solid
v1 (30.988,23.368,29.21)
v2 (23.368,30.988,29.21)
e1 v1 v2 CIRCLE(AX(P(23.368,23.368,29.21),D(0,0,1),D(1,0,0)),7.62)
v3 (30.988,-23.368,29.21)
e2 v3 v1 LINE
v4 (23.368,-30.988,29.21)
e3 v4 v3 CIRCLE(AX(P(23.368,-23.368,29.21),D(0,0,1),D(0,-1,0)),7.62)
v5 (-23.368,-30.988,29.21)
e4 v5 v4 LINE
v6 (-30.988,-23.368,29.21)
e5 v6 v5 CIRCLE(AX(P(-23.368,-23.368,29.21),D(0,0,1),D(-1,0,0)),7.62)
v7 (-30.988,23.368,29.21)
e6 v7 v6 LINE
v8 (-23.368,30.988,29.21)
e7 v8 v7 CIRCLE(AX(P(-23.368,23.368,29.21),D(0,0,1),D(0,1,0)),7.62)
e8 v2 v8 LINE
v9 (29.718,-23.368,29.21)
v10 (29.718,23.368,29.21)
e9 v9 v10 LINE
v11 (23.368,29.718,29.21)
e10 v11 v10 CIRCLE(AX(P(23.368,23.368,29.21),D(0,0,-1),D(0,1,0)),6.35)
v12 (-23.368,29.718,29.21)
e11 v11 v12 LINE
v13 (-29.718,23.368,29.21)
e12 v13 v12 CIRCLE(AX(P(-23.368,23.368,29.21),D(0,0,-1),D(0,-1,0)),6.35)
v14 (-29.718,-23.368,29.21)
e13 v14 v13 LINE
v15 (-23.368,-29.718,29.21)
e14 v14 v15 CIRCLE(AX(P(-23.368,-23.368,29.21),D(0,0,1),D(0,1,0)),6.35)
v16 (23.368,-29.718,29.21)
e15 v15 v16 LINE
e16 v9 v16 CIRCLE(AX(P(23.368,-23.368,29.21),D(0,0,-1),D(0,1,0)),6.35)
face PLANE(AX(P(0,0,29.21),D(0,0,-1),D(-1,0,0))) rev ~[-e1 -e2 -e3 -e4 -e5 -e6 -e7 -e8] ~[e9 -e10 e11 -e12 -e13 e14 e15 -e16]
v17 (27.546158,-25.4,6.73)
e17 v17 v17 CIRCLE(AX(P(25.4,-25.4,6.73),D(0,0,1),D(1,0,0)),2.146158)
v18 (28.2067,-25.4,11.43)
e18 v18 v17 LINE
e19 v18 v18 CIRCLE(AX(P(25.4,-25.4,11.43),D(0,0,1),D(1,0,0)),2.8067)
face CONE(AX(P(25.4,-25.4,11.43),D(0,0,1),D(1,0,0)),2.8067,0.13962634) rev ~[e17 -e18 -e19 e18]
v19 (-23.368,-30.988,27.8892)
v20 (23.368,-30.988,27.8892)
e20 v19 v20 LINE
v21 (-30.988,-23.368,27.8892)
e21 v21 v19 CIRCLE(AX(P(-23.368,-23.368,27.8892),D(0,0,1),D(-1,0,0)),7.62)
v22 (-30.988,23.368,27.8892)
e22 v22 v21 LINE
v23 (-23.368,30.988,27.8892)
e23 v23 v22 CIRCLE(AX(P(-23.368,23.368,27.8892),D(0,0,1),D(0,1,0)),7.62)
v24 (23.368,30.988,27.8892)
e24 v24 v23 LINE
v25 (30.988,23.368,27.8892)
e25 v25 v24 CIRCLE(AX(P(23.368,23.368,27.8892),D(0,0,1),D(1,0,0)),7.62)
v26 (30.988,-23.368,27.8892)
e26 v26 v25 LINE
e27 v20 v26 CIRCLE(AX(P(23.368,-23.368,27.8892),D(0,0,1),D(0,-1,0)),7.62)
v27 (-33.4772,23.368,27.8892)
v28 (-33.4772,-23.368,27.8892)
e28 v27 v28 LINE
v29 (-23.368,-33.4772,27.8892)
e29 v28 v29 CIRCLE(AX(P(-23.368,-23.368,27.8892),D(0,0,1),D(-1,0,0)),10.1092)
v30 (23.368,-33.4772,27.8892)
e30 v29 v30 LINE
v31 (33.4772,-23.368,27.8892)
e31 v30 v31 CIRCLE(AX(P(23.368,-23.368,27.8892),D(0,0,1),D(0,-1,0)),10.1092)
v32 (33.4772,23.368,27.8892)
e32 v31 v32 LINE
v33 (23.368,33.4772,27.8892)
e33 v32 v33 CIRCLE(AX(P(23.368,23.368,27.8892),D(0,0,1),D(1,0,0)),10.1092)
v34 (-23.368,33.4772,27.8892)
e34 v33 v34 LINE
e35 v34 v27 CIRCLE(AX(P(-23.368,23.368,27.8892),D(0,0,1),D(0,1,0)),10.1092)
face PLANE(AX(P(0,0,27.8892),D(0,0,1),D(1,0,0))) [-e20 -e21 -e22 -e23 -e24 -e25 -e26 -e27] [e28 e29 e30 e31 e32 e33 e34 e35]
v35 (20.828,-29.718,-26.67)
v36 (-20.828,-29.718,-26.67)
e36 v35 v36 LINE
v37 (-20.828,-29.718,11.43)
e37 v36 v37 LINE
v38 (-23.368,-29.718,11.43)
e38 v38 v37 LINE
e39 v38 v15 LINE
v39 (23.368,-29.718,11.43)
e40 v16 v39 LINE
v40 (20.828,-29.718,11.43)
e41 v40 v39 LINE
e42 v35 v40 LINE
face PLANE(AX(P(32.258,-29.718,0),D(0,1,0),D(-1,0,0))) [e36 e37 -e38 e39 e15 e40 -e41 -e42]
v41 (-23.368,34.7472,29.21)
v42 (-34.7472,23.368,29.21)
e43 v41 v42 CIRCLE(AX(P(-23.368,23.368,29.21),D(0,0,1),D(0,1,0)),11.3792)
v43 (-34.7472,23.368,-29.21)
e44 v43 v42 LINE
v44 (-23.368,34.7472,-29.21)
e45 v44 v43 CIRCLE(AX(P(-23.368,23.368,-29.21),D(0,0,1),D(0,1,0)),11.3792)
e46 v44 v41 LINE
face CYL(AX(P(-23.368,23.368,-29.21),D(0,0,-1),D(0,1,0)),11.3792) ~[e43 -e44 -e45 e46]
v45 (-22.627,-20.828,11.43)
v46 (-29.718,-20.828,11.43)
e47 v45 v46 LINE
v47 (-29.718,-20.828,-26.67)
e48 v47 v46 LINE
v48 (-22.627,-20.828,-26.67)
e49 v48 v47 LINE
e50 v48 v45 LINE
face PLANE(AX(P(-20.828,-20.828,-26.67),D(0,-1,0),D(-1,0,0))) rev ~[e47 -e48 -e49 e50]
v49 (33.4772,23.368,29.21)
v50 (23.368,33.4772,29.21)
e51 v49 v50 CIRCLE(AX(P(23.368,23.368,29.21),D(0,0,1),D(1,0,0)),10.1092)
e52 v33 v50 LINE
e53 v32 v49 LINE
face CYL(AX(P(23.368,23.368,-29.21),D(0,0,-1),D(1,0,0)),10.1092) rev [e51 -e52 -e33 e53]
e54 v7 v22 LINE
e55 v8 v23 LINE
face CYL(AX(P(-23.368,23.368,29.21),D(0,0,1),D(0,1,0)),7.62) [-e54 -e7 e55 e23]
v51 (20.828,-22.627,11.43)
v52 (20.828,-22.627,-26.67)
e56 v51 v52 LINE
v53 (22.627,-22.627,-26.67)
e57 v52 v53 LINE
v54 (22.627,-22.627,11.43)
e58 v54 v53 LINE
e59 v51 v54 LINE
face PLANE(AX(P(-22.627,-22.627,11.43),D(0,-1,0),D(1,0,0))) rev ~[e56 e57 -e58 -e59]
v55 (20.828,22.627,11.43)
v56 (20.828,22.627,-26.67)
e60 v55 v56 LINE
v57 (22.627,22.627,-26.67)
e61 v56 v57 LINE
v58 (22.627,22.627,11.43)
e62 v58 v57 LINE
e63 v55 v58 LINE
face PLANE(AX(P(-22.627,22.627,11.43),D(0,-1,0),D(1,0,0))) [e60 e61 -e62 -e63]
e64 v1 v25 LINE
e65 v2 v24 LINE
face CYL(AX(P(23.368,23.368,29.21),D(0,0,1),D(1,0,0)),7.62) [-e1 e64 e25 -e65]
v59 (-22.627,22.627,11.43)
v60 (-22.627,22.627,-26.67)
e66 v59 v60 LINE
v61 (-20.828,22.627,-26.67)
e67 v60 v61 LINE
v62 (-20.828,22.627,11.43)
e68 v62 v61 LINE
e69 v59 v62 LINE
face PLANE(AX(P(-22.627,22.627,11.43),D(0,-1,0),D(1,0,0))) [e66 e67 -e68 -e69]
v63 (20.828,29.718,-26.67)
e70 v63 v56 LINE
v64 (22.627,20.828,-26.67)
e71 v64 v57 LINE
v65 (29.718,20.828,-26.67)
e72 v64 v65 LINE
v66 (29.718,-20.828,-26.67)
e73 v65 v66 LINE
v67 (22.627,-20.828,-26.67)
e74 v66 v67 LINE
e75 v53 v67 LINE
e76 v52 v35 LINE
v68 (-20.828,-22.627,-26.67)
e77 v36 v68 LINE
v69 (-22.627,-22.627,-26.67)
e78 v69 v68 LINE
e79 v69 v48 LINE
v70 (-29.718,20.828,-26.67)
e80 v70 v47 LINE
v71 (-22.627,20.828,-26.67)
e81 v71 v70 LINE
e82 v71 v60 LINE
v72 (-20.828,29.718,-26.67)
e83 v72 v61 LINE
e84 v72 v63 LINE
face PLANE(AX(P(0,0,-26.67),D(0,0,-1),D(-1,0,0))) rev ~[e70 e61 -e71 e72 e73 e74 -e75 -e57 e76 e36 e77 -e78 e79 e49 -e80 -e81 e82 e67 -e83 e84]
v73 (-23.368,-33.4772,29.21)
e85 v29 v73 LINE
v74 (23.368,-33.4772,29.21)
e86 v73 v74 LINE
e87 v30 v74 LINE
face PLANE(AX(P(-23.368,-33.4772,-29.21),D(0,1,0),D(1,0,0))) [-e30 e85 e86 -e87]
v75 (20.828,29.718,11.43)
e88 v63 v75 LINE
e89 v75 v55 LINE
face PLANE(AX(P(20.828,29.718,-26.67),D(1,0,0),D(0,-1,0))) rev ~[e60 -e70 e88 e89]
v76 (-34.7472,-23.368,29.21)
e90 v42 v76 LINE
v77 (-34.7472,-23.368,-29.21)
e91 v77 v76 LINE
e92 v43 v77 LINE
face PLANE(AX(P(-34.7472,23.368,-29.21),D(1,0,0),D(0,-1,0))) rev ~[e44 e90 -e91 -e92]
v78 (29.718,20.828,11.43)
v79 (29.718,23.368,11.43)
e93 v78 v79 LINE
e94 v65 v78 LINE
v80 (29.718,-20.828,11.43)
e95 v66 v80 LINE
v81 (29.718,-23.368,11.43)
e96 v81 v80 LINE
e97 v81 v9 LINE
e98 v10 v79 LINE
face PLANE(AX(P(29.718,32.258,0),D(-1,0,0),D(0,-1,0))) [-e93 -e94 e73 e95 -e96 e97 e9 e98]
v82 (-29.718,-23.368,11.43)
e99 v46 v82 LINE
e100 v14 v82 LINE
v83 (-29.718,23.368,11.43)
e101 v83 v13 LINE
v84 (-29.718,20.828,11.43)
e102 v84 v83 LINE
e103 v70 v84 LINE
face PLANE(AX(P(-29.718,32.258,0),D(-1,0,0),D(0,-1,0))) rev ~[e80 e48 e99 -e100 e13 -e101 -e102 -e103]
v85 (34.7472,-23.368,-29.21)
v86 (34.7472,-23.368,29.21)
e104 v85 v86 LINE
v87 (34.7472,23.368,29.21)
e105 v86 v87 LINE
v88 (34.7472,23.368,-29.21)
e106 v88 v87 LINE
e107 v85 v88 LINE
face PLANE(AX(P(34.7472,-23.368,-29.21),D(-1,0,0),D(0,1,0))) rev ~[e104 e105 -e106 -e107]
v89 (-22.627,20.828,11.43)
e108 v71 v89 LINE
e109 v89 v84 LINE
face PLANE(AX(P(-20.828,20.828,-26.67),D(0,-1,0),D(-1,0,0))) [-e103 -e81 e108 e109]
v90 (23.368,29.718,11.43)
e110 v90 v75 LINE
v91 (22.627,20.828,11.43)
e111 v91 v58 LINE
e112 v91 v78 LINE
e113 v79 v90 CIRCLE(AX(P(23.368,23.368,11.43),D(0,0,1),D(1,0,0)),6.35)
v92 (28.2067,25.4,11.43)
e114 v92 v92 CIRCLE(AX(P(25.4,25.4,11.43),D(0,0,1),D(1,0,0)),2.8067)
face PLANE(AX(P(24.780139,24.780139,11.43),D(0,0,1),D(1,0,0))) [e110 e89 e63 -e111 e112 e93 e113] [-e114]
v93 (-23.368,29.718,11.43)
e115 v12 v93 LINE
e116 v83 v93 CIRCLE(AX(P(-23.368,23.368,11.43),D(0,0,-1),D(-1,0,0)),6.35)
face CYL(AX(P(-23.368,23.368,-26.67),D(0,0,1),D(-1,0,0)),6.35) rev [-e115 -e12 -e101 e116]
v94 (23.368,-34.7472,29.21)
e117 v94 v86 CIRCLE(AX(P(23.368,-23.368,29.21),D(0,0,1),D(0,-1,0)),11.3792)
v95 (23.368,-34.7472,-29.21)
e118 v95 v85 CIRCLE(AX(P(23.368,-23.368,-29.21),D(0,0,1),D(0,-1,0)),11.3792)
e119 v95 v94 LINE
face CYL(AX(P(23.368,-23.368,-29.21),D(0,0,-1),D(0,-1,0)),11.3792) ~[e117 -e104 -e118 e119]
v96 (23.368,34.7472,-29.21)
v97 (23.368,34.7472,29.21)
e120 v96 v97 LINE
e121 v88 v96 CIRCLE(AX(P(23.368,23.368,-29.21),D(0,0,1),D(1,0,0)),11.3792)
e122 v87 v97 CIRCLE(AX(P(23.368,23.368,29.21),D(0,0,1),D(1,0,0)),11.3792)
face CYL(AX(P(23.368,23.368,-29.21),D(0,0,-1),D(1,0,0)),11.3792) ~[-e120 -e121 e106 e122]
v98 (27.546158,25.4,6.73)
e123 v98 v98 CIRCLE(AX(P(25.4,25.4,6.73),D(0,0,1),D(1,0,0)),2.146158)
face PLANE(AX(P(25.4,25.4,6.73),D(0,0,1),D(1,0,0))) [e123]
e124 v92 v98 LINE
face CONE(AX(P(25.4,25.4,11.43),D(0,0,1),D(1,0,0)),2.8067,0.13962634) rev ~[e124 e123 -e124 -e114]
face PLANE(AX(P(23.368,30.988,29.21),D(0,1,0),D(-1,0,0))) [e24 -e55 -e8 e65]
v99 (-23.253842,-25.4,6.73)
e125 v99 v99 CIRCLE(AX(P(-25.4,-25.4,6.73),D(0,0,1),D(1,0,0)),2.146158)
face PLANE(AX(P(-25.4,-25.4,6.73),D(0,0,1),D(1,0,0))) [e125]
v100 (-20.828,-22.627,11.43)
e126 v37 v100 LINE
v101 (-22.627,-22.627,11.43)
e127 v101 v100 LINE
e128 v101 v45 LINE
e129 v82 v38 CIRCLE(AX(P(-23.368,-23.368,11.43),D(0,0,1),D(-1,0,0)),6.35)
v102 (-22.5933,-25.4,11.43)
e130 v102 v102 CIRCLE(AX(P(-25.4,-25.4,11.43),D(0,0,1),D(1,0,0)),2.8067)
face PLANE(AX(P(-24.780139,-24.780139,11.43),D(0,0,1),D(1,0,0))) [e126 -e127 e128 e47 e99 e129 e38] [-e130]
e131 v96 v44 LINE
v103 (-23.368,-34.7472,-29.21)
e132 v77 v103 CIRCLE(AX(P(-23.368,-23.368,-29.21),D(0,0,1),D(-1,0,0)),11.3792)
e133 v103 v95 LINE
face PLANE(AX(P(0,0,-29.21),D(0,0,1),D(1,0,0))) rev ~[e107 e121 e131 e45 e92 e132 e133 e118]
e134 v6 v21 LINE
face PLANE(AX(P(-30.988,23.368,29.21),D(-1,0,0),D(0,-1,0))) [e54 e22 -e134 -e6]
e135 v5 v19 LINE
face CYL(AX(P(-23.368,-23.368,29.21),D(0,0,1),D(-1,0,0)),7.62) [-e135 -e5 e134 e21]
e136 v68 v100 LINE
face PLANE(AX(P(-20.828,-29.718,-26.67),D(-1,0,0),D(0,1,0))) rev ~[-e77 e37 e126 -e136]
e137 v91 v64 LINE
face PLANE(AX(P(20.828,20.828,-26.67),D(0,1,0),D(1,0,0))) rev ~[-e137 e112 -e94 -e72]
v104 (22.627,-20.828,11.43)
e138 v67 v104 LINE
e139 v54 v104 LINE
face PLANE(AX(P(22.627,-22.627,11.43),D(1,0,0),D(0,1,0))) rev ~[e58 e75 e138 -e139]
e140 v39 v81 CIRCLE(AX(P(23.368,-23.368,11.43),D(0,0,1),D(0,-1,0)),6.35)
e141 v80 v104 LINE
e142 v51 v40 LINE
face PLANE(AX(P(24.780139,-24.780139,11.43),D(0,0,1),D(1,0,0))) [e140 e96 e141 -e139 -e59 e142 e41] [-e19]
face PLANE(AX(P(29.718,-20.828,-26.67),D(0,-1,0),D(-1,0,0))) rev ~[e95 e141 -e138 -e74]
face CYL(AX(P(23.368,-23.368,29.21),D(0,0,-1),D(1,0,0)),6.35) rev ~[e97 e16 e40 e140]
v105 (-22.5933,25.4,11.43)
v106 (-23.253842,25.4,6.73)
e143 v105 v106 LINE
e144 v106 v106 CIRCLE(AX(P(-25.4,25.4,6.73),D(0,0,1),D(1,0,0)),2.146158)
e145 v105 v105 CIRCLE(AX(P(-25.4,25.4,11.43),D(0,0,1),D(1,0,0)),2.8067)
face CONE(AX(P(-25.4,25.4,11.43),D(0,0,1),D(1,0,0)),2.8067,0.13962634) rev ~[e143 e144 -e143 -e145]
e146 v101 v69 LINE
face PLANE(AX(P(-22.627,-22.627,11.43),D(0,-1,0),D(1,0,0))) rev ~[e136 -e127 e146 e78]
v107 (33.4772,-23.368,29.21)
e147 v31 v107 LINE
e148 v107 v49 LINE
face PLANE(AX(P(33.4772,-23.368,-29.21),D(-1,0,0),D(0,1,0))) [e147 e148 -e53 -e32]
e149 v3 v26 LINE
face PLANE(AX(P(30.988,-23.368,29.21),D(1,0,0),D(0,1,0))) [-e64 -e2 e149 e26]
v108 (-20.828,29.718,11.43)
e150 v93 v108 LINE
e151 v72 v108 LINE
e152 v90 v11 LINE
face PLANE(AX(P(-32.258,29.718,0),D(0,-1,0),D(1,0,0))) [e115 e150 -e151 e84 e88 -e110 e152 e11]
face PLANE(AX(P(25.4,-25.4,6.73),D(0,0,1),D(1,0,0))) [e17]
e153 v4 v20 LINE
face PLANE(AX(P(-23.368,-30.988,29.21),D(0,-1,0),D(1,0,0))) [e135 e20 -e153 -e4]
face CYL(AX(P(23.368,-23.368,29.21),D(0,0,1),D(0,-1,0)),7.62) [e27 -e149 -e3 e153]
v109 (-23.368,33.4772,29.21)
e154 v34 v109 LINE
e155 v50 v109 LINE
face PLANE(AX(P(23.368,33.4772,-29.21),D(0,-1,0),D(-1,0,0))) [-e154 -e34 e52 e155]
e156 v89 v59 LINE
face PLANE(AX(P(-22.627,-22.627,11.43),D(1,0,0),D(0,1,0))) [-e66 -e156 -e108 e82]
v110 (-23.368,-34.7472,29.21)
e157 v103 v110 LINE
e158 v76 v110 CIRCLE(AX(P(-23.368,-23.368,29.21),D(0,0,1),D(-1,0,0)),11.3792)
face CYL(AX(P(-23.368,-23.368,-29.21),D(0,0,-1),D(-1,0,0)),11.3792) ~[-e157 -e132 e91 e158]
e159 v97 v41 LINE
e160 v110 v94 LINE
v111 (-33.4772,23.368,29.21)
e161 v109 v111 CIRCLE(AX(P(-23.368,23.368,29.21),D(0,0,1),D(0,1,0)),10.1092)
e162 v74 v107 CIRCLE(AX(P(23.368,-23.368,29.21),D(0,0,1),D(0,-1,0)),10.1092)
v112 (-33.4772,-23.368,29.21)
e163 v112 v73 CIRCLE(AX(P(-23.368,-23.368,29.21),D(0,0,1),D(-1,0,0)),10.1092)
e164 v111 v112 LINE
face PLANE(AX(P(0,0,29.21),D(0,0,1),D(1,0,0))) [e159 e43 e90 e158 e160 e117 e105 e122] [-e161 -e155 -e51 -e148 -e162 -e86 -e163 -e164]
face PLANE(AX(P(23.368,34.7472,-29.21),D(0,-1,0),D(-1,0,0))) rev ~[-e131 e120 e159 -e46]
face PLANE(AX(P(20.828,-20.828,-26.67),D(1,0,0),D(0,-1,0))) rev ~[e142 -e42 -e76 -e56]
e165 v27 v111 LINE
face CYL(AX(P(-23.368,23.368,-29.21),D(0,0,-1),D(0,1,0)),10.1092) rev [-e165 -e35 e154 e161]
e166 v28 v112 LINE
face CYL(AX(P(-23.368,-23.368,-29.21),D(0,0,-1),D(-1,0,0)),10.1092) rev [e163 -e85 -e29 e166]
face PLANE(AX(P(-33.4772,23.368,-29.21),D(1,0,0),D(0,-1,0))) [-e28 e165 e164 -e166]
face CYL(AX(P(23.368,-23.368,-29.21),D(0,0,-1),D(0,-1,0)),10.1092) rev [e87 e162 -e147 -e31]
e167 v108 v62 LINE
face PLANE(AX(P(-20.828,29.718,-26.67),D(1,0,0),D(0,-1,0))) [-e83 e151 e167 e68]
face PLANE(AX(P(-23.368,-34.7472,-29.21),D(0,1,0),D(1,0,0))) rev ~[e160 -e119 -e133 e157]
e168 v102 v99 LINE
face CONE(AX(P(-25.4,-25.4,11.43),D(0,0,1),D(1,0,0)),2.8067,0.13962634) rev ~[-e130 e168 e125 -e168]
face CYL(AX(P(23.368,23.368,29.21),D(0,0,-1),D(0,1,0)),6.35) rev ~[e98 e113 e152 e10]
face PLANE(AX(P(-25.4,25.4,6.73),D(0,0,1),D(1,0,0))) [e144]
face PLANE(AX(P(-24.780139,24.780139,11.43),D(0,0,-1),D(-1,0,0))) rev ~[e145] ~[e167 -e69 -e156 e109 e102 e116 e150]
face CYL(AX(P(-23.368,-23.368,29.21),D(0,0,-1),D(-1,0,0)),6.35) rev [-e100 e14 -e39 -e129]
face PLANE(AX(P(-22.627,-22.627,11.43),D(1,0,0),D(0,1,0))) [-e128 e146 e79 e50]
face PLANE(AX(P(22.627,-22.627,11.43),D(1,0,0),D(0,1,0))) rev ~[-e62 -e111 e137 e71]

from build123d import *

# Parameters (mm, degrees)
BOSS_EXTRUDE1_DEPTH          = 29.21
SHELL1_T                     = -2.54
FILLET1_R                    = 6.35
BOSS_EXTRUDE2_DEPTH          = 38.1
SKETCH3_R                    = 2.8067
CUT_EXTRUDE1_DEPTH           = 4.7
CUT_EXTRUDE1_DRAFT           = -8
CUT_EXTRUDE1_PROFILE_2_DEPTH = 4.7
CUT_EXTRUDE1_PROFILE_2_DRAFT = -8
CUT_EXTRUDE1_PROFILE_3_DEPTH = 4.7
CUT_EXTRUDE1_PROFILE_3_DRAFT = -8
CUT_EXTRUDE1_PROFILE_4_DEPTH = 4.7
CUT_EXTRUDE1_PROFILE_4_DRAFT = -8
SKETCH5_W                    = 45.253999916
SKETCH5_H                    = 45.253999916
CUT_EXTRUDE5_DEPTH           = 38.1
SKETCH6_OUTSIDE_W            = 88.184
SKETCH6_OUTSIDE_H            = 88.184
CUT_EXTRUDE6_DEPTH           = 1.3208
BOSS_EXTRUDE3_START          = -2.54
BOSS_EXTRUDE3_DEPTH          = 57.0992
BOSS_EXTRUDE7_START          = -57.0992
BOSS_EXTRUDE7_DEPTH          = 58.42


with BuildPart() as part:
    # Sketch1 → Boss-Extrude1 (new, symmetric)
    with BuildSketch(Plane.XY):
        Polygon((-32.258, -32.258), (-32.258, -11.938), (-32.258, 11.938), (-32.258, 32.258), (32.258, 32.258), (32.258, -32.258), align=None)
    extrude(amount=BOSS_EXTRUDE1_DEPTH, both=True)

    # Shell1
    shell1_openings = [part.faces().sort_by_distance(p)[0] for p in [
        (0, 0, 29.21),
    ]]
    offset(amount=SHELL1_T, openings=shell1_openings, kind=Kind.INTERSECTION)

    # Fillet1
    fillet1_edges = [part.edges().sort_by_distance(p)[0] for p in [
        (-32.258, -32.258, 0),
        (-32.258, 32.258, 0),
        (32.258, 32.258, 0),
        (32.258, -32.258, 0),
        (-29.718, -29.718, 1.27),
        (29.718, -29.718, 1.27),
        (29.718, 29.718, 1.27),
        (-29.718, 29.718, 1.27),
    ]]
    fillet(fillet1_edges, radius=FILLET1_R)

    # Sketch2 → Boss-Extrude2 (add)
    with BuildSketch(Plane.XY.offset(-26.67)):
        with BuildLine():
            Line((-20.828, -20.828), (-29.718, -20.828))
            Line((-29.718, -20.828), (-29.718, -23.368))
            ThreePointArc((-29.718, -23.368), (-27.858128061, -27.858128061), (-23.368, -29.718))
            Line((-23.368, -29.718), (-20.828, -29.718))
            Line((-20.828, -29.718), (-20.828, -20.828))
        make_face()
        with BuildLine():
            ThreePointArc((-29.718, 23.368), (-27.858128061, 27.858128061), (-23.368, 29.718))
            Line((-23.368, 29.718), (-20.828, 29.718))
            Line((-20.828, 29.718), (-20.828, 20.828))
            Line((-20.828, 20.828), (-29.718, 20.828))
            Line((-29.718, 20.828), (-29.718, 23.368))
        make_face()
        with BuildLine():
            ThreePointArc((29.718, 23.368), (27.858128061, 27.858128061), (23.368, 29.718))
            Line((23.368, 29.718), (20.828, 29.718))
            Line((20.828, 29.718), (20.828, 20.828))
            Line((20.828, 20.828), (29.718, 20.828))
            Line((29.718, 20.828), (29.718, 23.368))
        make_face()
        with BuildLine():
            ThreePointArc((23.368, -29.718), (27.858128061, -27.858128061), (29.718, -23.368))
            Line((29.718, -23.368), (29.718, -20.828))
            Line((29.718, -20.828), (20.828, -20.828))
            Line((20.828, -20.828), (20.828, -29.718))
            Line((20.828, -29.718), (23.368, -29.718))
        make_face()
    extrude(amount=BOSS_EXTRUDE2_DEPTH)


with BuildPart() as cut_extrude1_tool:
    # Sketch3 → Cut-Extrude1 (with draft: the straight prism first)
    with BuildSketch(Plane.XY.offset(11.43)):
        with Locations((-25.4, -25.4)):
            Circle(SKETCH3_R)
    extrude(amount=-CUT_EXTRUDE1_DEPTH)
    # Cut-Extrude1: the draft: its side faces are tilted about the plane it starts from
    cut_extrude1_sides = [cut_extrude1_tool.faces().sort_by_distance(p)[0] for p in [
        (-28.2067, -25.4, 9.08),
    ]]
    draft(cut_extrude1_sides, Plane.XY.offset(11.43), CUT_EXTRUDE1_DRAFT)


with BuildPart() as part_1:
    add(part.part)

    # Cut-Extrude1: cut by cut_extrude1_tool
    add(cut_extrude1_tool.part, mode=Mode.SUBTRACT)


with BuildPart() as cut_extrude1_profile_2_tool:
    # Sketch3 → Cut-Extrude1 profile 2 (with draft: the straight prism first)
    with BuildSketch(Plane.XY.offset(11.43)):
        with Locations((-25.4, 25.4)):
            Circle(SKETCH3_R)
    extrude(amount=-CUT_EXTRUDE1_PROFILE_2_DEPTH)
    # Cut-Extrude1 profile 2: the draft: its side faces are tilted about the plane it starts from
    cut_extrude1_profile_2_sides = [cut_extrude1_profile_2_tool.faces().sort_by_distance(p)[0] for p in [
        (-28.2067, 25.4, 9.08),
    ]]
    draft(cut_extrude1_profile_2_sides, Plane.XY.offset(11.43), CUT_EXTRUDE1_PROFILE_2_DRAFT)


with BuildPart() as part_2:
    add(part_1.part)

    # Cut-Extrude1 profile 2: cut by cut_extrude1_profile_2_tool
    add(cut_extrude1_profile_2_tool.part, mode=Mode.SUBTRACT)


with BuildPart() as cut_extrude1_profile_3_tool:
    # Sketch3 → Cut-Extrude1 profile 3 (with draft: the straight prism first)
    with BuildSketch(Plane.XY.offset(11.43)):
        with Locations((25.4, 25.4)):
            Circle(SKETCH3_R)
    extrude(amount=-CUT_EXTRUDE1_PROFILE_3_DEPTH)
    # Cut-Extrude1 profile 3: the draft: its side faces are tilted about the plane it starts from
    cut_extrude1_profile_3_sides = [cut_extrude1_profile_3_tool.faces().sort_by_distance(p)[0] for p in [
        (22.5933, 25.4, 9.08),
    ]]
    draft(cut_extrude1_profile_3_sides, Plane.XY.offset(11.43), CUT_EXTRUDE1_PROFILE_3_DRAFT)


with BuildPart() as part_3:
    add(part_2.part)

    # Cut-Extrude1 profile 3: cut by cut_extrude1_profile_3_tool
    add(cut_extrude1_profile_3_tool.part, mode=Mode.SUBTRACT)


with BuildPart() as cut_extrude1_profile_4_tool:
    # Sketch3 → Cut-Extrude1 profile 4 (with draft: the straight prism first)
    with BuildSketch(Plane.XY.offset(11.43)):
        with Locations((25.4, -25.4)):
            Circle(SKETCH3_R)
    extrude(amount=-CUT_EXTRUDE1_PROFILE_4_DEPTH)
    # Cut-Extrude1 profile 4: the draft: its side faces are tilted about the plane it starts from
    cut_extrude1_profile_4_sides = [cut_extrude1_profile_4_tool.faces().sort_by_distance(p)[0] for p in [
        (22.5933, -25.4, 9.08),
    ]]
    draft(cut_extrude1_profile_4_sides, Plane.XY.offset(11.43), CUT_EXTRUDE1_PROFILE_4_DRAFT)


with BuildPart() as part_4:
    add(part_3.part)

    # Cut-Extrude1 profile 4: cut by cut_extrude1_profile_4_tool
    add(cut_extrude1_profile_4_tool.part, mode=Mode.SUBTRACT)

    # Sketch5 → Cut-Extrude5 (cut)
    with BuildSketch(Plane.XY.offset(11.43)):
        Rectangle(SKETCH5_W, SKETCH5_H)
    extrude(amount=-CUT_EXTRUDE5_DEPTH, mode=Mode.SUBTRACT)

    # Sketch6 outside → Cut-Extrude6 (cut)
    # profile 1 of 2: a face of its own
    with BuildSketch(Plane.XY.offset(29.21)):
        Rectangle(SKETCH6_OUTSIDE_W, SKETCH6_OUTSIDE_H)
        with BuildLine():
            Line((23.368, 30.988), (20.828, 30.988))
            Line((20.828, 30.988), (-20.828, 30.988))
            Line((-20.828, 30.988), (-23.368, 30.988))
            ThreePointArc((-23.368, 30.988), (-28.756153673, 28.756153673), (-30.988, 23.368))
            Line((-30.988, 23.368), (-30.988, -23.368))
            ThreePointArc((-30.988, -23.368), (-28.756153673, -28.756153673), (-23.368, -30.988))
            Line((-23.368, -30.988), (-20.828, -30.988))
            Line((-20.828, -30.988), (20.828, -30.988))
            Line((20.828, -30.988), (23.368, -30.988))
            ThreePointArc((23.368, -30.988), (28.756153673, -28.756153673), (30.988, -23.368))
            Line((30.988, -23.368), (30.988, 23.368))
            ThreePointArc((30.988, 23.368), (28.756153673, 28.756153673), (23.368, 30.988))
        make_face(mode=Mode.SUBTRACT)
    # profile 2 of 2: a face of its own
    with BuildSketch(Plane.XY.offset(29.21)):
        with BuildLine():
            Line((23.368, 29.718), (20.828, 29.718))
            Line((20.828, 29.718), (-20.828, 29.718))
            Line((-20.828, 29.718), (-23.368, 29.718))
            ThreePointArc((-23.368, 29.718), (-27.858128061, 27.858128061), (-29.718, 23.368))
            Line((-29.718, 23.368), (-29.718, -23.368))
            ThreePointArc((-29.718, -23.368), (-27.858128061, -27.858128061), (-23.368, -29.718))
            Line((-23.368, -29.718), (-20.828, -29.718))
            Line((-20.828, -29.718), (20.828, -29.718))
            Line((20.828, -29.718), (23.368, -29.718))
            ThreePointArc((23.368, -29.718), (27.858128061, -27.858128061), (29.718, -23.368))
            Line((29.718, -23.368), (29.718, 23.368))
            ThreePointArc((29.718, 23.368), (27.858128061, 27.858128061), (23.368, 29.718))
        make_face()
    extrude(amount=-CUT_EXTRUDE6_DEPTH, mode=Mode.SUBTRACT)

    # Sketch7 → Boss-Extrude3 (add)
    with BuildSketch(Plane.XY.offset(-26.67).offset(BOSS_EXTRUDE3_START)):
        with BuildLine():
            Line((33.4772, -23.368), (33.4772, 23.368))
            ThreePointArc((33.4772, 23.368), (30.516283872, 30.516283872), (23.368, 33.4772))
            Line((23.368, 33.4772), (-23.368, 33.4772))
            ThreePointArc((-23.368, 33.4772), (-30.516283872, 30.516283872), (-33.4772, 23.368))
            Line((-33.4772, 23.368), (-33.4772, -23.368))
            ThreePointArc((-33.4772, -23.368), (-30.516283872, -30.516283872), (-23.368, -33.4772))
            Line((-23.368, -33.4772), (23.368, -33.4772))
            ThreePointArc((23.368, -33.4772), (30.516283872, -30.516283872), (33.4772, -23.368))
        make_face()
        with BuildLine():
            Line((23.368, 32.2072), (-23.368, 32.2072))
            ThreePointArc((-23.368, 32.2072), (-29.61825826, 29.61825826), (-32.2072, 23.368))
            Line((-32.2072, 23.368), (-32.2072, -23.368))
            ThreePointArc((-32.2072, -23.368), (-29.61825826, -29.61825826), (-23.368, -32.2072))
            Line((-23.368, -32.2072), (23.368, -32.2072))
            ThreePointArc((23.368, -32.2072), (29.61825826, -29.61825826), (32.2072, -23.368))
            Line((32.2072, -23.368), (32.2072, 23.368))
            ThreePointArc((32.2072, 23.368), (29.61825826, 29.61825826), (23.368, 32.2072))
        make_face(mode=Mode.SUBTRACT)
    extrude(amount=BOSS_EXTRUDE3_DEPTH)

    # Sketch9 → Boss-Extrude7 (add)
    with BuildSketch(Plane.XY.offset(27.8892).offset(BOSS_EXTRUDE7_START)):
        with BuildLine():
            Line((34.7472, -23.368), (34.7472, 23.368))
            ThreePointArc((34.7472, 23.368), (31.414309484, 31.414309484), (23.368, 34.7472))
            Line((23.368, 34.7472), (-23.368, 34.7472))
            ThreePointArc((-23.368, 34.7472), (-31.414309484, 31.414309484), (-34.7472, 23.368))
            Line((-34.7472, 23.368), (-34.7472, -23.368))
            ThreePointArc((-34.7472, -23.368), (-31.414309484, -31.414309484), (-23.368, -34.7472))
            Line((-23.368, -34.7472), (23.368, -34.7472))
            ThreePointArc((23.368, -34.7472), (31.414309484, -31.414309484), (34.7472, -23.368))
        make_face()
        with BuildLine():
            Line((23.368, 33.4772), (-23.368, 33.4772))
            ThreePointArc((-23.368, 33.4772), (-30.516283872, 30.516283872), (-33.4772, 23.368))
            Line((-33.4772, 23.368), (-33.4772, -23.368))
            ThreePointArc((-33.4772, -23.368), (-30.516283872, -30.516283872), (-23.368, -33.4772))
            Line((-23.368, -33.4772), (23.368, -33.4772))
            ThreePointArc((23.368, -33.4772), (30.516283872, -30.516283872), (33.4772, -23.368))
            Line((33.4772, -23.368), (33.4772, 23.368))
            ThreePointArc((33.4772, 23.368), (30.516283872, 30.516283872), (23.368, 33.4772))
        make_face(mode=Mode.SUBTRACT)
    extrude(amount=BOSS_EXTRUDE7_DEPTH)


solid = part_4.part
